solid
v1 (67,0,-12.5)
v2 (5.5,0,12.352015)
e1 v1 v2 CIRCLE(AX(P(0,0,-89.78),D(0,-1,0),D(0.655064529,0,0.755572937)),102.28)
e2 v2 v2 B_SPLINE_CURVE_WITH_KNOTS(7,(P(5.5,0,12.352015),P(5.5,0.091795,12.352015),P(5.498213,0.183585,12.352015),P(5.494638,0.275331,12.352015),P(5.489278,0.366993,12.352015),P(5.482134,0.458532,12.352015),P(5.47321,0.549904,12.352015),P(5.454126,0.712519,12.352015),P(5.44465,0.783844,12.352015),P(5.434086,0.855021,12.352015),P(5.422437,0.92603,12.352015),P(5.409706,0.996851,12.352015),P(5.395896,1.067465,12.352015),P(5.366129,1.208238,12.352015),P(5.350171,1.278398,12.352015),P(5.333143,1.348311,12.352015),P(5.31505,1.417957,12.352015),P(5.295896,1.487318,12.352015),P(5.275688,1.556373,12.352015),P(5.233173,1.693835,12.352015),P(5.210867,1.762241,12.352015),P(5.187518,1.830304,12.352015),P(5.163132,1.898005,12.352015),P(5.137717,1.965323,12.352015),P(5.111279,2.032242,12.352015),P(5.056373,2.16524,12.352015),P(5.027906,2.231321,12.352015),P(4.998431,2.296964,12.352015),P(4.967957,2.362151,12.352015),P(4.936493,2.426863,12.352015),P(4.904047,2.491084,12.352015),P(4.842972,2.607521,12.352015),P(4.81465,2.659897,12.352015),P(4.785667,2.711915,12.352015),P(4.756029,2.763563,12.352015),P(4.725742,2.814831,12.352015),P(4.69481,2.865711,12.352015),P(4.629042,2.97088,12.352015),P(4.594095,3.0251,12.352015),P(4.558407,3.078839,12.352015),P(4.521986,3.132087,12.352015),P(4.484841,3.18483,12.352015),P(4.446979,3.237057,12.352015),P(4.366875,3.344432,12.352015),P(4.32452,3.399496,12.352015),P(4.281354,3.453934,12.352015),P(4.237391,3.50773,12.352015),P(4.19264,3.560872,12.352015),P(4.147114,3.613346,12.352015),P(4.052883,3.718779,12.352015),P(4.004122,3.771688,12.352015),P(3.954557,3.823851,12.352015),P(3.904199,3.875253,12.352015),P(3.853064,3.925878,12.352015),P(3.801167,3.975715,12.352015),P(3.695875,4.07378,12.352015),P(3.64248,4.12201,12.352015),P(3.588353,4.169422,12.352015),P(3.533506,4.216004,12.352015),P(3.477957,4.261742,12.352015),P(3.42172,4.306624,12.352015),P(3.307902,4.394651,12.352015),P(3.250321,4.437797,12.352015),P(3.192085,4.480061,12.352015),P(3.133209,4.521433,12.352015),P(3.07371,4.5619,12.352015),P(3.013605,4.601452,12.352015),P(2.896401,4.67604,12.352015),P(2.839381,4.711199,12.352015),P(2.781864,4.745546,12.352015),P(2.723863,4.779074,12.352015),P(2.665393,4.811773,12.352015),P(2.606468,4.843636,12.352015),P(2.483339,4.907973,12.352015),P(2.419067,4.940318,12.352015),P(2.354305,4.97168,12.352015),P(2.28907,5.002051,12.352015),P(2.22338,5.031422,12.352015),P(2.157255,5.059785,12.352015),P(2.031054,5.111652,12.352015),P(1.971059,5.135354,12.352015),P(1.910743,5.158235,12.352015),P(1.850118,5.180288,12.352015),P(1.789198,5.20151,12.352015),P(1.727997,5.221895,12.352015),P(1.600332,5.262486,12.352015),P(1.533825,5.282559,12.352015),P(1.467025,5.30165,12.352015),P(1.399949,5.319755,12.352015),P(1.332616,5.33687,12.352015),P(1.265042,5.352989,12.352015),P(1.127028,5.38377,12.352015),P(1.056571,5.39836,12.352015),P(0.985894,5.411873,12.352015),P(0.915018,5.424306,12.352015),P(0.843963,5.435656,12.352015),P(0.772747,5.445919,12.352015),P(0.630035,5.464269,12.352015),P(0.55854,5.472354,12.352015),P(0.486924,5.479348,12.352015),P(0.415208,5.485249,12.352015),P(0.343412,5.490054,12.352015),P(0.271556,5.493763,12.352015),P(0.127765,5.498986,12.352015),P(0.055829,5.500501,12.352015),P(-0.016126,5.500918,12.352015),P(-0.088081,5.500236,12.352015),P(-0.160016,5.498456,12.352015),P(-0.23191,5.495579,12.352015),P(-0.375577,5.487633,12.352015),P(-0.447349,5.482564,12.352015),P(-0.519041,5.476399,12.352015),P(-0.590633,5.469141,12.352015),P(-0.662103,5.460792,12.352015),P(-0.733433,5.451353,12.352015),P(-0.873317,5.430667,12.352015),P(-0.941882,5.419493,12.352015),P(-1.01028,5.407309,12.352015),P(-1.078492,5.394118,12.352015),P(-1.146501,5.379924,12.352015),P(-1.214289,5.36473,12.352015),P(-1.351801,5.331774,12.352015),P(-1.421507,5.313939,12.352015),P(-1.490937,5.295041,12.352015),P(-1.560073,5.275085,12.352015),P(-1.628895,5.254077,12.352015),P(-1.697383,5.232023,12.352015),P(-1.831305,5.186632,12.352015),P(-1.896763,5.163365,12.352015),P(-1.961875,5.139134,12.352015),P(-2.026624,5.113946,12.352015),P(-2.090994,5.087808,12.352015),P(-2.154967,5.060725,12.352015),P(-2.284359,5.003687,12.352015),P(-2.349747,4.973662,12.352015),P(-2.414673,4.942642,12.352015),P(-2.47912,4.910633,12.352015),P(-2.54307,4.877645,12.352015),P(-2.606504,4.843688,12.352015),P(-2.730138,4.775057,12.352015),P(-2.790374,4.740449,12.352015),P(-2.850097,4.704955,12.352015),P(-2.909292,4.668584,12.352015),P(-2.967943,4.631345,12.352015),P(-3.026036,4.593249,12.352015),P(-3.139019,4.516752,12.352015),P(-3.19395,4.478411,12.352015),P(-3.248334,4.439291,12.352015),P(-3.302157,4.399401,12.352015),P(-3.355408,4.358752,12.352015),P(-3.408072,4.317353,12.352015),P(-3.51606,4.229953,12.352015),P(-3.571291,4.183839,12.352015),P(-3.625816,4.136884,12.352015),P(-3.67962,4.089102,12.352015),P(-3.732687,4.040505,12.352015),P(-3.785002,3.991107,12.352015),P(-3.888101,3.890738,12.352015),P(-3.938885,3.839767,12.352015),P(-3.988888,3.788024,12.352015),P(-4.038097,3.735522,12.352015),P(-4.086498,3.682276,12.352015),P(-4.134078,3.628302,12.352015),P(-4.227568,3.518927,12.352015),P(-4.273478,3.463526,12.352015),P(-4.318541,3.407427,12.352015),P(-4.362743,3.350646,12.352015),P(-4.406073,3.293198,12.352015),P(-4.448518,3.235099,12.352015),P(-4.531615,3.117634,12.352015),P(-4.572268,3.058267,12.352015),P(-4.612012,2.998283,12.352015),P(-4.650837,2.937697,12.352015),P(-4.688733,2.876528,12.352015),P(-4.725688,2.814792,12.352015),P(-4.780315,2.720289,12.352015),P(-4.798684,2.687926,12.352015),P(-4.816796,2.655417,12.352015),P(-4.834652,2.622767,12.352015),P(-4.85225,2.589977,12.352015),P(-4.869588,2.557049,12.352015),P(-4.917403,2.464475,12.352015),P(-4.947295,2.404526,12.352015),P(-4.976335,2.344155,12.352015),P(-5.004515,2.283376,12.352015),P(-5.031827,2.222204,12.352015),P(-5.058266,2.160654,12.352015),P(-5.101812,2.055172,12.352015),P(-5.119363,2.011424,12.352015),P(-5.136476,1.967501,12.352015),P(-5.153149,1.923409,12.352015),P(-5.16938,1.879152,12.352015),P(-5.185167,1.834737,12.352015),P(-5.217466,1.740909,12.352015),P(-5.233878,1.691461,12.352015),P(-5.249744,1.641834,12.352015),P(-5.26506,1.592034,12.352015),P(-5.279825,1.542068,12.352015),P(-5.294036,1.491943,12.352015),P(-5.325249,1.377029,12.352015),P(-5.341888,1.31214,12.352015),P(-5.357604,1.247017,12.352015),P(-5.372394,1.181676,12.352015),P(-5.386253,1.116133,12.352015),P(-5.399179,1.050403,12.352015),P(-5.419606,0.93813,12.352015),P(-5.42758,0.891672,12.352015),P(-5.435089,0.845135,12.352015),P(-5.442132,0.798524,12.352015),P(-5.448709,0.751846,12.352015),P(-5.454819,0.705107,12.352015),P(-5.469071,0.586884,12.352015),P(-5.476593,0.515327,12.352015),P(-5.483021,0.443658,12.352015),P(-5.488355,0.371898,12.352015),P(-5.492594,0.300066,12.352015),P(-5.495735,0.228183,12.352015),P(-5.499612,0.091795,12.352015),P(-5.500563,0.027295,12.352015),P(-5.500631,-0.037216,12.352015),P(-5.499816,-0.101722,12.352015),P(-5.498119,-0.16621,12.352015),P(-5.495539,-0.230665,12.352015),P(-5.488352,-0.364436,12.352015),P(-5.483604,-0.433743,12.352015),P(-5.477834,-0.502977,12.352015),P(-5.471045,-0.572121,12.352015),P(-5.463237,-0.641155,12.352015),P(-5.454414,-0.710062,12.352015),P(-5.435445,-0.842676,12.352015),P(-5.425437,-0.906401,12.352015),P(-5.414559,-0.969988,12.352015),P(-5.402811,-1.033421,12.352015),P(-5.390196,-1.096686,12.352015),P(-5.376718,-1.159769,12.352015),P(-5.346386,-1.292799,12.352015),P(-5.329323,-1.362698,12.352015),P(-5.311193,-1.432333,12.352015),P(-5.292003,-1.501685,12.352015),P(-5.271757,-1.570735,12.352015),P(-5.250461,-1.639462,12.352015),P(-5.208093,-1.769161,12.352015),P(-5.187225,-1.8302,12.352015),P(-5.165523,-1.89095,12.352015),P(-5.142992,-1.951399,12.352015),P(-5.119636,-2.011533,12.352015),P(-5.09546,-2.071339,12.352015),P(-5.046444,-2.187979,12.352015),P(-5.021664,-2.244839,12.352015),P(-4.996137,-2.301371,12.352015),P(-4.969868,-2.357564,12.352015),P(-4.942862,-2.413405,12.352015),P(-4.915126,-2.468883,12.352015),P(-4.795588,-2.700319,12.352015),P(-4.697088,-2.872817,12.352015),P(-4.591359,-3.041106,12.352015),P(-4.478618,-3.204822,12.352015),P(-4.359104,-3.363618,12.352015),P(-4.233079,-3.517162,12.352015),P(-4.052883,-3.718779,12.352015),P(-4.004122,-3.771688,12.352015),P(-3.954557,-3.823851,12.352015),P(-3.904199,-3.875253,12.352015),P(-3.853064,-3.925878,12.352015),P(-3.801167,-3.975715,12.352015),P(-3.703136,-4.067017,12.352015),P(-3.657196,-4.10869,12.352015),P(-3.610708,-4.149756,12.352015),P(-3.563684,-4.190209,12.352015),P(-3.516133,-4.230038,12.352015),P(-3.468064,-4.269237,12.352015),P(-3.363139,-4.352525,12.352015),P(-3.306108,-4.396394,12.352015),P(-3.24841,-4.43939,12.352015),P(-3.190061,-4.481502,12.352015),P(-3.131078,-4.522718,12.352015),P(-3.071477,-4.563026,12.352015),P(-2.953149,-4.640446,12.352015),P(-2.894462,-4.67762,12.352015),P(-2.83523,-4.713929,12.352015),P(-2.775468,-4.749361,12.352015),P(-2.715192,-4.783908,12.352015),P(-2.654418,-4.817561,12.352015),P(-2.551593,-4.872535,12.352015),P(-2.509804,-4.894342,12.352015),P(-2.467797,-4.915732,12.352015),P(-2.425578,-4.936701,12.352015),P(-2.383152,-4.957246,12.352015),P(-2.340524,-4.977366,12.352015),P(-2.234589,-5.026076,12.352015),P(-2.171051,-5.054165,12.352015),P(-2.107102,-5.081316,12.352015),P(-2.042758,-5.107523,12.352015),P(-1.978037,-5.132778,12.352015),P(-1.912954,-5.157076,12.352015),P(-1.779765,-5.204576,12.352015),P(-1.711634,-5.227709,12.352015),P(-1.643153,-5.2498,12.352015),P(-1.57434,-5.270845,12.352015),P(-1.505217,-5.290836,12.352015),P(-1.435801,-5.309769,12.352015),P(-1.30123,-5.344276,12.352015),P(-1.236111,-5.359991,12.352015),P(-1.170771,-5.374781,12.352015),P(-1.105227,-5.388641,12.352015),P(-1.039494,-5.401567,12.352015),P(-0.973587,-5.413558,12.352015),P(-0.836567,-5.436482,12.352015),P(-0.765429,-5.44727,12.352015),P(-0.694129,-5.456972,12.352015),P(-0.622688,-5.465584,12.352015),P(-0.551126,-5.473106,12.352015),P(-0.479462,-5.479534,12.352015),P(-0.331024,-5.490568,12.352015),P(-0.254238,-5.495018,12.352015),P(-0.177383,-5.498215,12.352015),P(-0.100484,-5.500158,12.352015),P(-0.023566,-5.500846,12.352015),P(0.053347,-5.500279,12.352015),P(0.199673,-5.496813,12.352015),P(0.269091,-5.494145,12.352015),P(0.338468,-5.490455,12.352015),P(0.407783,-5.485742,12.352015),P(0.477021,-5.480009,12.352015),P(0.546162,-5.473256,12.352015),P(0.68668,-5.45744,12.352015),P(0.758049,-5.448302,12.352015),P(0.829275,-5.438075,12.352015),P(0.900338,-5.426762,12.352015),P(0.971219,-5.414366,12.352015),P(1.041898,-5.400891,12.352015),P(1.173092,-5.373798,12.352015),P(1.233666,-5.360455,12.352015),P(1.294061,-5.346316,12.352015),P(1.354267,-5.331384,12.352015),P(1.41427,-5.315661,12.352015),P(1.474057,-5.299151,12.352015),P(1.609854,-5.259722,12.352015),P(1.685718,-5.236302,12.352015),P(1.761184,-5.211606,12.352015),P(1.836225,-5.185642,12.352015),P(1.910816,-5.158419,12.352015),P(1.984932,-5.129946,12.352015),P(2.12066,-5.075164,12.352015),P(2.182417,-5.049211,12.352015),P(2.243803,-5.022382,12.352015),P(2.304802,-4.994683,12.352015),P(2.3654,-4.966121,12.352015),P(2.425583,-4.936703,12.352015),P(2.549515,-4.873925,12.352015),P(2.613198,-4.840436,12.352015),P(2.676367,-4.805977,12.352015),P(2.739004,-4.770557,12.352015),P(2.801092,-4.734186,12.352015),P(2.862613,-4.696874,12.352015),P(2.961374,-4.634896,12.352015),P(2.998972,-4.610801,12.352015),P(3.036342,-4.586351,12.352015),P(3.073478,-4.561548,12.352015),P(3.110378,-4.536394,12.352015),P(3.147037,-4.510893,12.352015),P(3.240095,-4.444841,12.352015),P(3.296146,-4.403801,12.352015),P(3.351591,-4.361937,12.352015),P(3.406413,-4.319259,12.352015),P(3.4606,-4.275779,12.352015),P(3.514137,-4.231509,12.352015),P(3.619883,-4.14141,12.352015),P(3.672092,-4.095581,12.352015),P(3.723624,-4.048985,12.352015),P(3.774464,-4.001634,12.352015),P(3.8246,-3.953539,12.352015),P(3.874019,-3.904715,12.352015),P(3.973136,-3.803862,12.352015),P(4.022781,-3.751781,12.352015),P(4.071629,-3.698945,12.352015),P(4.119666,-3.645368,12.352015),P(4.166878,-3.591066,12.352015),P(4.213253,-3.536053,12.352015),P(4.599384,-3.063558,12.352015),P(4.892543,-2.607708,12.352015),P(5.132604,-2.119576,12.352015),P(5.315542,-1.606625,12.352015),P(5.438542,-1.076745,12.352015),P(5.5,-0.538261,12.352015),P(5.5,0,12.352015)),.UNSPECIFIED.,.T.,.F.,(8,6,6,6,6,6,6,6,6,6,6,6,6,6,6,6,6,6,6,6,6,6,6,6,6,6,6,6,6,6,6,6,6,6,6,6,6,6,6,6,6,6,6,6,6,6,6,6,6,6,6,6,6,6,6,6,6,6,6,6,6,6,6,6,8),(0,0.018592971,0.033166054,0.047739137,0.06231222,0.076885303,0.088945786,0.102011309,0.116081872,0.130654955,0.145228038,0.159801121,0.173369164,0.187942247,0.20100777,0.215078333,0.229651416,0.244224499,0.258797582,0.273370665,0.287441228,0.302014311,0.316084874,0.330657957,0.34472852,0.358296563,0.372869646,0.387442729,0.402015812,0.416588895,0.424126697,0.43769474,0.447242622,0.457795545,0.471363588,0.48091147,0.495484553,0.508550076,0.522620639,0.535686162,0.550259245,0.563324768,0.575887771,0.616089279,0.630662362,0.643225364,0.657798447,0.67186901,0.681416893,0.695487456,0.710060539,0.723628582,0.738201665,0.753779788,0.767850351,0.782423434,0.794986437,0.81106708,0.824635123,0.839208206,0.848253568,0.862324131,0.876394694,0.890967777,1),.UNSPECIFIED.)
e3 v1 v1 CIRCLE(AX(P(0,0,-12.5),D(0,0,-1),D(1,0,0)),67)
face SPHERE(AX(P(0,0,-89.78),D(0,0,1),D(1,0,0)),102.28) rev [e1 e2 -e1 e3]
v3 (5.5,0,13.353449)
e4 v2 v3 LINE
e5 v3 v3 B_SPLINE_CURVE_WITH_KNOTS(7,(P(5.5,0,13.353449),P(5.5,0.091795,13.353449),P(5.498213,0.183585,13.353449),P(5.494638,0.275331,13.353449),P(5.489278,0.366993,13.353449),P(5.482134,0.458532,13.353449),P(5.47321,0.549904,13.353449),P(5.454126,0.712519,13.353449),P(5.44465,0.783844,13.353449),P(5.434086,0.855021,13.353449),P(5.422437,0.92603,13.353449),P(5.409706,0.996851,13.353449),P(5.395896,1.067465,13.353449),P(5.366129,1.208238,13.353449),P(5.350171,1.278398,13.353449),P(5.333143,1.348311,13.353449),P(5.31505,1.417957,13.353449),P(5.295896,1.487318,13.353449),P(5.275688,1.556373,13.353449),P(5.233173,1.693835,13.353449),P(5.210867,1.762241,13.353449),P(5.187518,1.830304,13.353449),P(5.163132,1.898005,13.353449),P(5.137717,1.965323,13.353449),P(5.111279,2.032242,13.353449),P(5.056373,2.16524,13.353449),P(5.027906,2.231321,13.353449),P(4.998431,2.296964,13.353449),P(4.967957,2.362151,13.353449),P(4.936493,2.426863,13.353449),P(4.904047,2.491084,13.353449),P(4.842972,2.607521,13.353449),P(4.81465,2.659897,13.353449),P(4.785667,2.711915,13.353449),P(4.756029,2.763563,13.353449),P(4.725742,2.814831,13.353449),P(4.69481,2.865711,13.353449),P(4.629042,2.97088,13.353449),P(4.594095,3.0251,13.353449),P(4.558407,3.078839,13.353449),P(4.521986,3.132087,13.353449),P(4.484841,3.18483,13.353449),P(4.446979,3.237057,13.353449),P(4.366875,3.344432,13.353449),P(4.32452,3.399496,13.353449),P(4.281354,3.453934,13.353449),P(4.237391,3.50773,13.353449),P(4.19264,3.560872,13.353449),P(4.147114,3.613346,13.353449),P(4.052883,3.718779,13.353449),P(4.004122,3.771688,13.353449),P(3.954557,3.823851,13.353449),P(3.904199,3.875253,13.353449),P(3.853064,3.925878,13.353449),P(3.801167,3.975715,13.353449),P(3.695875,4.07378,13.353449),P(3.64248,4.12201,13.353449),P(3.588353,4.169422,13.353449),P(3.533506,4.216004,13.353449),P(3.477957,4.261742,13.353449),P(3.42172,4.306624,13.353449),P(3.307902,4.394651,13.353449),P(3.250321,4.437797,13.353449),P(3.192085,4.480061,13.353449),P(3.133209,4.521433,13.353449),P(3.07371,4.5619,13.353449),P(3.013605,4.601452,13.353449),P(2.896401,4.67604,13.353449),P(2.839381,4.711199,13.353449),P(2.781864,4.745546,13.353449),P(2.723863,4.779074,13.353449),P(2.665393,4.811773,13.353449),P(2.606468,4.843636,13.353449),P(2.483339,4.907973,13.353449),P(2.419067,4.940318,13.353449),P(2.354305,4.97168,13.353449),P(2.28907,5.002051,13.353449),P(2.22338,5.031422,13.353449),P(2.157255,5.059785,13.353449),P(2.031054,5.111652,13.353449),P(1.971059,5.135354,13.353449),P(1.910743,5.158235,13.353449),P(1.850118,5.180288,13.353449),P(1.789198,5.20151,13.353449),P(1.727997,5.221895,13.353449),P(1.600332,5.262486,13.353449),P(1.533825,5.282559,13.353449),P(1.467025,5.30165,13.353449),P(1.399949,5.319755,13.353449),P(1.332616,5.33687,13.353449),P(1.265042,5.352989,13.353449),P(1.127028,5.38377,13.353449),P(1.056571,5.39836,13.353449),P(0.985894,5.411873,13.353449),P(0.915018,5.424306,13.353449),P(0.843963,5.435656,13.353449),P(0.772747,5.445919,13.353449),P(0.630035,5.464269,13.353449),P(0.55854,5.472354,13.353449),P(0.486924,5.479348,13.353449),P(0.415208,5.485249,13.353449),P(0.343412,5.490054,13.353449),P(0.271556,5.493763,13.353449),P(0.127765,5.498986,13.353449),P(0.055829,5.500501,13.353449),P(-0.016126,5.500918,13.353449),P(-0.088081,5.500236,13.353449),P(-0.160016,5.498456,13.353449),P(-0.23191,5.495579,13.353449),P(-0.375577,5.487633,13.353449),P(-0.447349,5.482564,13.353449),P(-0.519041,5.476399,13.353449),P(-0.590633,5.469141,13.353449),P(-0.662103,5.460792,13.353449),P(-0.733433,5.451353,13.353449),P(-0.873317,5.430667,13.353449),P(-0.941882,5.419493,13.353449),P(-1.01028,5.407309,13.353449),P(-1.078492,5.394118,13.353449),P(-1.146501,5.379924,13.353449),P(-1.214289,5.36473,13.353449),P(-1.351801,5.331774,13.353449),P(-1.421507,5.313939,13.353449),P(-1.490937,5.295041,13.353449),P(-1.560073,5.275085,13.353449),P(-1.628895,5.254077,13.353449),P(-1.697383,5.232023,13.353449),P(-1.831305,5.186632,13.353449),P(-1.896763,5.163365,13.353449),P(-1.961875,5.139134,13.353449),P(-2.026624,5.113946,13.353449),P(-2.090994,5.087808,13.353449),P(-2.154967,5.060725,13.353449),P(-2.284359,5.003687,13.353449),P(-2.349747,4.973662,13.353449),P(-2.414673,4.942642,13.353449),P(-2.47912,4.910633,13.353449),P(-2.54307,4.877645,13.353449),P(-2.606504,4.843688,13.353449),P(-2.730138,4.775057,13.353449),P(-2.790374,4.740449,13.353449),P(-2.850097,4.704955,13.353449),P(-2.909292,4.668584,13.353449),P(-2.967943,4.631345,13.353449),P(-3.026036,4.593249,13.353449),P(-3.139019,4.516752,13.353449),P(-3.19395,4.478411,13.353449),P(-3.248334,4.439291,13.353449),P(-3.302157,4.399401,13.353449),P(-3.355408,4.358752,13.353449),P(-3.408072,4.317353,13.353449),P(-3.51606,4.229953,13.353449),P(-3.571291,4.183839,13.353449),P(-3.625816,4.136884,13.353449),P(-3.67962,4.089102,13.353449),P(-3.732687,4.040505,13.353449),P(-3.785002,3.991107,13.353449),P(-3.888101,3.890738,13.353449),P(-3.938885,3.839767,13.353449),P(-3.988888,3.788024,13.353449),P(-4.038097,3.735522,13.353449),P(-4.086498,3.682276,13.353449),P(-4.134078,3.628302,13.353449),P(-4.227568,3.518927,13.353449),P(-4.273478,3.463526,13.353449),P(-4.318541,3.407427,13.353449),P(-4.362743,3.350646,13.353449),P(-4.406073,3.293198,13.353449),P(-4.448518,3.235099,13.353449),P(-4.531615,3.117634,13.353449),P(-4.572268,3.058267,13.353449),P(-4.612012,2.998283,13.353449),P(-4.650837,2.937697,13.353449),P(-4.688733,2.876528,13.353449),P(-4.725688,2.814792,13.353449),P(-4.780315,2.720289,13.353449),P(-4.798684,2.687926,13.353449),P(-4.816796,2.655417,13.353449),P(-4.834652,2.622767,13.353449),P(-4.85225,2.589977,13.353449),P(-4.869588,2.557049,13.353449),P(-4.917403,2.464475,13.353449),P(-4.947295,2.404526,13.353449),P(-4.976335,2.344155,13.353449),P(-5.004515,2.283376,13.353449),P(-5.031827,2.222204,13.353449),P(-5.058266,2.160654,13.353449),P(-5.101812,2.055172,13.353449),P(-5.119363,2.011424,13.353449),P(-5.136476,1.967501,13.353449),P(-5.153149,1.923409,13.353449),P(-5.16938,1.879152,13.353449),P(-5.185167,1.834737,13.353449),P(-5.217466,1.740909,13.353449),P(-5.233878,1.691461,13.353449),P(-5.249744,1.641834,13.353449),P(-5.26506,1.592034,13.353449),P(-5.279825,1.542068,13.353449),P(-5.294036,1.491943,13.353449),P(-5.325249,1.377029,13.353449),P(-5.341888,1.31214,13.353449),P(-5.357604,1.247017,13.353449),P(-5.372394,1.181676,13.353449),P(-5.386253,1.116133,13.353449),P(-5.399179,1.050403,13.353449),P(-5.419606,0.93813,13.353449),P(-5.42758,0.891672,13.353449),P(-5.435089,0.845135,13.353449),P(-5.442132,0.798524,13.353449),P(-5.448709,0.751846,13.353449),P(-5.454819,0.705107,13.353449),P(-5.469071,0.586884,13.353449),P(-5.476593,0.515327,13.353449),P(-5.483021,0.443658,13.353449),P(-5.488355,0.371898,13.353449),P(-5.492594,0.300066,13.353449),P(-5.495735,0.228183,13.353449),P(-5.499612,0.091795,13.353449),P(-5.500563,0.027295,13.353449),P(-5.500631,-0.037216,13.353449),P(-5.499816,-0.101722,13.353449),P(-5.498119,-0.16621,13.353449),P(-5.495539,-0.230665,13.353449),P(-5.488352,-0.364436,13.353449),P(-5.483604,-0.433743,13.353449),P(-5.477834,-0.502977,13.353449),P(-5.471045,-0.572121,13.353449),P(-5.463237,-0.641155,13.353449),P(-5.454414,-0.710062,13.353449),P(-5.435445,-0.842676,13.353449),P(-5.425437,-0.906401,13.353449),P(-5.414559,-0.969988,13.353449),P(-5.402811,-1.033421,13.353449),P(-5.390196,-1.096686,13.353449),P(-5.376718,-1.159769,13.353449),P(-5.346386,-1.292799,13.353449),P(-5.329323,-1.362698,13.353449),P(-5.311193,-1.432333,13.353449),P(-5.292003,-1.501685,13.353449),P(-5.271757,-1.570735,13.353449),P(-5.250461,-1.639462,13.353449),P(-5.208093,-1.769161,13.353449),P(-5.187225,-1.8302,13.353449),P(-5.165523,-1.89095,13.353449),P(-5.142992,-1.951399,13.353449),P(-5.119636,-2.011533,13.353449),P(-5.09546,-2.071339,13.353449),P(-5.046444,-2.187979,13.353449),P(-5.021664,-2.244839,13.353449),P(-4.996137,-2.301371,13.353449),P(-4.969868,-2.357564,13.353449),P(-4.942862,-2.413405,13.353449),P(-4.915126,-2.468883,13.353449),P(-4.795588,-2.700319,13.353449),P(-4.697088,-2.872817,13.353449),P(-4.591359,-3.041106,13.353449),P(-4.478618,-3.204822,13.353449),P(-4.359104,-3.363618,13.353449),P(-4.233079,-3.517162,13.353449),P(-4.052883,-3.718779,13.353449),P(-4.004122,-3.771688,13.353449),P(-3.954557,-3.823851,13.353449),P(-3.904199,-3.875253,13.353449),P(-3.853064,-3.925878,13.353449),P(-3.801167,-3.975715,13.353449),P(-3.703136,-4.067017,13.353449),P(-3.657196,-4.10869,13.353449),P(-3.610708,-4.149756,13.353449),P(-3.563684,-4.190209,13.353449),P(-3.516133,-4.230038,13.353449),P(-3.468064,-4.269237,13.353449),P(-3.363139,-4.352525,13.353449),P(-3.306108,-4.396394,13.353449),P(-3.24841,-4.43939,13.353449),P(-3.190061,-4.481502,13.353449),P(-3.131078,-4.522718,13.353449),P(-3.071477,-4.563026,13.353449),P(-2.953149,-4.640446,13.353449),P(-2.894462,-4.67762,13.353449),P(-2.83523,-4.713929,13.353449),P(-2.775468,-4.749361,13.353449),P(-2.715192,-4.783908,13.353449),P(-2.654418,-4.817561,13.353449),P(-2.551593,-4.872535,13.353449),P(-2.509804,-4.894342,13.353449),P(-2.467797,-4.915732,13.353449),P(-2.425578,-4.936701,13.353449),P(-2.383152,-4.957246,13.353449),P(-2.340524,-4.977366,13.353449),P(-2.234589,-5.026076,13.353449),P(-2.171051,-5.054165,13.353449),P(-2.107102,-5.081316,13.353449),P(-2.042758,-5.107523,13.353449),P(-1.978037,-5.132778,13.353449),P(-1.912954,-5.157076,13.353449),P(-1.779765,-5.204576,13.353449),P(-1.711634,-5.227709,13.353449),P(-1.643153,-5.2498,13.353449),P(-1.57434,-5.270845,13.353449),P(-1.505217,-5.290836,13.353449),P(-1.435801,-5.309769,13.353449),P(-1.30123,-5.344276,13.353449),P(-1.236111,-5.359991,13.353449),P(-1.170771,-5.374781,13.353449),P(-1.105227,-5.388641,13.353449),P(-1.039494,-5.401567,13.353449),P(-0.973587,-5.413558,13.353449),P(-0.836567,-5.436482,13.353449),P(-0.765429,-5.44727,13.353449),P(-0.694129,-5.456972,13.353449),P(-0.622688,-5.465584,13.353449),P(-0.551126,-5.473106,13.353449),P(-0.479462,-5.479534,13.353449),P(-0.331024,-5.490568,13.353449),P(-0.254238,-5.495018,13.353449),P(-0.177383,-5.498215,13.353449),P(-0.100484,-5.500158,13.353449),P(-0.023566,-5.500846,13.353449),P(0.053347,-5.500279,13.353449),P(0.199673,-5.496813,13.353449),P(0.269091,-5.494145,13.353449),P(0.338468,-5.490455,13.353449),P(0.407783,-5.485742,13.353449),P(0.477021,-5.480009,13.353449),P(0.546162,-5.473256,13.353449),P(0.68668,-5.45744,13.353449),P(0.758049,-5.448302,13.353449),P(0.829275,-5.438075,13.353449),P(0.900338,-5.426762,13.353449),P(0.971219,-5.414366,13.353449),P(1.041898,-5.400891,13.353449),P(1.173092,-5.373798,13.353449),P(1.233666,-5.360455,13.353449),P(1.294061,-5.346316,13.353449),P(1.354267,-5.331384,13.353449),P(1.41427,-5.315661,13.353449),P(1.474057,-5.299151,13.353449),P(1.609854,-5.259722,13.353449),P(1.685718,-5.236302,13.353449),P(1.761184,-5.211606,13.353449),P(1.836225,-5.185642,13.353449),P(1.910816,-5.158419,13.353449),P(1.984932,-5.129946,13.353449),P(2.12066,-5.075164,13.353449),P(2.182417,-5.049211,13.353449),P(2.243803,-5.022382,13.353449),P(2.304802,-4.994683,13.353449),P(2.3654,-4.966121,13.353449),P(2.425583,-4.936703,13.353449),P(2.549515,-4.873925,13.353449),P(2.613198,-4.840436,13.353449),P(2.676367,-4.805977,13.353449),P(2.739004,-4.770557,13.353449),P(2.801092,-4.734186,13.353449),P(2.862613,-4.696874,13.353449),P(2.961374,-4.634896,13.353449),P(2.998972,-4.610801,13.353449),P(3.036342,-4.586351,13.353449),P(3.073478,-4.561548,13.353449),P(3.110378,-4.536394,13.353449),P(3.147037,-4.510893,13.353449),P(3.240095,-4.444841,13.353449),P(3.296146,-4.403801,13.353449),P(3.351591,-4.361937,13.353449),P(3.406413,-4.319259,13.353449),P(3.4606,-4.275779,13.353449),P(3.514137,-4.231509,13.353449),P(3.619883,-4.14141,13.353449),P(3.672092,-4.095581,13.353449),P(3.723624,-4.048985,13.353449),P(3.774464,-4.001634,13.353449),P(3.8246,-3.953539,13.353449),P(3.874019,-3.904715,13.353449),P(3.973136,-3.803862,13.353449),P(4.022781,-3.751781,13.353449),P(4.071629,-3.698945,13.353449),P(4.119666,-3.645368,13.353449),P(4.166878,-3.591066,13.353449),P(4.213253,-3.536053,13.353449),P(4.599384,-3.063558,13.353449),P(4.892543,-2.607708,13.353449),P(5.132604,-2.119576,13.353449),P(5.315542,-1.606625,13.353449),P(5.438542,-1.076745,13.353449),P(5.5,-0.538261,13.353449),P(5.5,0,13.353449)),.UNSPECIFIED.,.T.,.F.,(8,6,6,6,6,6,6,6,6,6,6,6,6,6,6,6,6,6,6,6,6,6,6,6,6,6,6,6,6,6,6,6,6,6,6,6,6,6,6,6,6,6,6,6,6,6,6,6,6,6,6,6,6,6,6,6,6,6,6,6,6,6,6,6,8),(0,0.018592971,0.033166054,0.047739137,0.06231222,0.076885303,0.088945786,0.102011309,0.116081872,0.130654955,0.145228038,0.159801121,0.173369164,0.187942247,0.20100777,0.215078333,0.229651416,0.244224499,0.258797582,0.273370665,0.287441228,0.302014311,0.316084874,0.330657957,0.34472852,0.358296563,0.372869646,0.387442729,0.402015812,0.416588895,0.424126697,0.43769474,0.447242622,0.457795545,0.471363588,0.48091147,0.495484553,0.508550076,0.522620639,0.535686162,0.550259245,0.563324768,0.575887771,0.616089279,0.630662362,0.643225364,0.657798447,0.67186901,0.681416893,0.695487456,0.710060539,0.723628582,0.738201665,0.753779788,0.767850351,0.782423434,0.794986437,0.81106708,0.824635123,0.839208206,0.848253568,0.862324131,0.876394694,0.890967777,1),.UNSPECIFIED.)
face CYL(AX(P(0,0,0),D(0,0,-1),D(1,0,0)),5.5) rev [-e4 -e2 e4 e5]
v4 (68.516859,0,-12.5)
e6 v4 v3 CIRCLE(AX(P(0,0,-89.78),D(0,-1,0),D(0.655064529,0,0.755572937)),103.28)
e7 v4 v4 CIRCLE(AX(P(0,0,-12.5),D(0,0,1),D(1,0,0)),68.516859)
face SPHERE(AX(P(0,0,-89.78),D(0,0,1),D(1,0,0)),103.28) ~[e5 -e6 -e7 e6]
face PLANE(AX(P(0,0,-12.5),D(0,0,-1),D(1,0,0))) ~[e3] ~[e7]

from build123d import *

# Parameters (mm, degrees)
F2_T     = 1
F3_R     = 5.5
F4_DEPTH = 13.501


with BuildPart() as f1:
    # F0 (on Front) → F1 (revolve)
    with BuildSketch(Plane.XZ):
        with BuildLine():
            Line((0, 12.5), (0, -12.5))
            Line((0, -12.5), (67, -12.5))
            ThreePointArc((67, -12.5), (35.7561183576, 6.0463971983), (0, 12.5))
        make_face()
    revolve(axis=Axis((0, 0, 0), (0, 0, -1)))

    # F2
    f2_openings = [f1.faces().sort_by_distance(p)[0] for p in [
        (0, 0, -12.5),
    ]]
    offset(amount=F2_T, openings=f2_openings)

    # F3 (on Top) → F4 (cut, through all)
    with BuildSketch(Plane.XY):
        Circle(F3_R)
    extrude(amount=F4_DEPTH, mode=Mode.SUBTRACT)


solid = f1.part
